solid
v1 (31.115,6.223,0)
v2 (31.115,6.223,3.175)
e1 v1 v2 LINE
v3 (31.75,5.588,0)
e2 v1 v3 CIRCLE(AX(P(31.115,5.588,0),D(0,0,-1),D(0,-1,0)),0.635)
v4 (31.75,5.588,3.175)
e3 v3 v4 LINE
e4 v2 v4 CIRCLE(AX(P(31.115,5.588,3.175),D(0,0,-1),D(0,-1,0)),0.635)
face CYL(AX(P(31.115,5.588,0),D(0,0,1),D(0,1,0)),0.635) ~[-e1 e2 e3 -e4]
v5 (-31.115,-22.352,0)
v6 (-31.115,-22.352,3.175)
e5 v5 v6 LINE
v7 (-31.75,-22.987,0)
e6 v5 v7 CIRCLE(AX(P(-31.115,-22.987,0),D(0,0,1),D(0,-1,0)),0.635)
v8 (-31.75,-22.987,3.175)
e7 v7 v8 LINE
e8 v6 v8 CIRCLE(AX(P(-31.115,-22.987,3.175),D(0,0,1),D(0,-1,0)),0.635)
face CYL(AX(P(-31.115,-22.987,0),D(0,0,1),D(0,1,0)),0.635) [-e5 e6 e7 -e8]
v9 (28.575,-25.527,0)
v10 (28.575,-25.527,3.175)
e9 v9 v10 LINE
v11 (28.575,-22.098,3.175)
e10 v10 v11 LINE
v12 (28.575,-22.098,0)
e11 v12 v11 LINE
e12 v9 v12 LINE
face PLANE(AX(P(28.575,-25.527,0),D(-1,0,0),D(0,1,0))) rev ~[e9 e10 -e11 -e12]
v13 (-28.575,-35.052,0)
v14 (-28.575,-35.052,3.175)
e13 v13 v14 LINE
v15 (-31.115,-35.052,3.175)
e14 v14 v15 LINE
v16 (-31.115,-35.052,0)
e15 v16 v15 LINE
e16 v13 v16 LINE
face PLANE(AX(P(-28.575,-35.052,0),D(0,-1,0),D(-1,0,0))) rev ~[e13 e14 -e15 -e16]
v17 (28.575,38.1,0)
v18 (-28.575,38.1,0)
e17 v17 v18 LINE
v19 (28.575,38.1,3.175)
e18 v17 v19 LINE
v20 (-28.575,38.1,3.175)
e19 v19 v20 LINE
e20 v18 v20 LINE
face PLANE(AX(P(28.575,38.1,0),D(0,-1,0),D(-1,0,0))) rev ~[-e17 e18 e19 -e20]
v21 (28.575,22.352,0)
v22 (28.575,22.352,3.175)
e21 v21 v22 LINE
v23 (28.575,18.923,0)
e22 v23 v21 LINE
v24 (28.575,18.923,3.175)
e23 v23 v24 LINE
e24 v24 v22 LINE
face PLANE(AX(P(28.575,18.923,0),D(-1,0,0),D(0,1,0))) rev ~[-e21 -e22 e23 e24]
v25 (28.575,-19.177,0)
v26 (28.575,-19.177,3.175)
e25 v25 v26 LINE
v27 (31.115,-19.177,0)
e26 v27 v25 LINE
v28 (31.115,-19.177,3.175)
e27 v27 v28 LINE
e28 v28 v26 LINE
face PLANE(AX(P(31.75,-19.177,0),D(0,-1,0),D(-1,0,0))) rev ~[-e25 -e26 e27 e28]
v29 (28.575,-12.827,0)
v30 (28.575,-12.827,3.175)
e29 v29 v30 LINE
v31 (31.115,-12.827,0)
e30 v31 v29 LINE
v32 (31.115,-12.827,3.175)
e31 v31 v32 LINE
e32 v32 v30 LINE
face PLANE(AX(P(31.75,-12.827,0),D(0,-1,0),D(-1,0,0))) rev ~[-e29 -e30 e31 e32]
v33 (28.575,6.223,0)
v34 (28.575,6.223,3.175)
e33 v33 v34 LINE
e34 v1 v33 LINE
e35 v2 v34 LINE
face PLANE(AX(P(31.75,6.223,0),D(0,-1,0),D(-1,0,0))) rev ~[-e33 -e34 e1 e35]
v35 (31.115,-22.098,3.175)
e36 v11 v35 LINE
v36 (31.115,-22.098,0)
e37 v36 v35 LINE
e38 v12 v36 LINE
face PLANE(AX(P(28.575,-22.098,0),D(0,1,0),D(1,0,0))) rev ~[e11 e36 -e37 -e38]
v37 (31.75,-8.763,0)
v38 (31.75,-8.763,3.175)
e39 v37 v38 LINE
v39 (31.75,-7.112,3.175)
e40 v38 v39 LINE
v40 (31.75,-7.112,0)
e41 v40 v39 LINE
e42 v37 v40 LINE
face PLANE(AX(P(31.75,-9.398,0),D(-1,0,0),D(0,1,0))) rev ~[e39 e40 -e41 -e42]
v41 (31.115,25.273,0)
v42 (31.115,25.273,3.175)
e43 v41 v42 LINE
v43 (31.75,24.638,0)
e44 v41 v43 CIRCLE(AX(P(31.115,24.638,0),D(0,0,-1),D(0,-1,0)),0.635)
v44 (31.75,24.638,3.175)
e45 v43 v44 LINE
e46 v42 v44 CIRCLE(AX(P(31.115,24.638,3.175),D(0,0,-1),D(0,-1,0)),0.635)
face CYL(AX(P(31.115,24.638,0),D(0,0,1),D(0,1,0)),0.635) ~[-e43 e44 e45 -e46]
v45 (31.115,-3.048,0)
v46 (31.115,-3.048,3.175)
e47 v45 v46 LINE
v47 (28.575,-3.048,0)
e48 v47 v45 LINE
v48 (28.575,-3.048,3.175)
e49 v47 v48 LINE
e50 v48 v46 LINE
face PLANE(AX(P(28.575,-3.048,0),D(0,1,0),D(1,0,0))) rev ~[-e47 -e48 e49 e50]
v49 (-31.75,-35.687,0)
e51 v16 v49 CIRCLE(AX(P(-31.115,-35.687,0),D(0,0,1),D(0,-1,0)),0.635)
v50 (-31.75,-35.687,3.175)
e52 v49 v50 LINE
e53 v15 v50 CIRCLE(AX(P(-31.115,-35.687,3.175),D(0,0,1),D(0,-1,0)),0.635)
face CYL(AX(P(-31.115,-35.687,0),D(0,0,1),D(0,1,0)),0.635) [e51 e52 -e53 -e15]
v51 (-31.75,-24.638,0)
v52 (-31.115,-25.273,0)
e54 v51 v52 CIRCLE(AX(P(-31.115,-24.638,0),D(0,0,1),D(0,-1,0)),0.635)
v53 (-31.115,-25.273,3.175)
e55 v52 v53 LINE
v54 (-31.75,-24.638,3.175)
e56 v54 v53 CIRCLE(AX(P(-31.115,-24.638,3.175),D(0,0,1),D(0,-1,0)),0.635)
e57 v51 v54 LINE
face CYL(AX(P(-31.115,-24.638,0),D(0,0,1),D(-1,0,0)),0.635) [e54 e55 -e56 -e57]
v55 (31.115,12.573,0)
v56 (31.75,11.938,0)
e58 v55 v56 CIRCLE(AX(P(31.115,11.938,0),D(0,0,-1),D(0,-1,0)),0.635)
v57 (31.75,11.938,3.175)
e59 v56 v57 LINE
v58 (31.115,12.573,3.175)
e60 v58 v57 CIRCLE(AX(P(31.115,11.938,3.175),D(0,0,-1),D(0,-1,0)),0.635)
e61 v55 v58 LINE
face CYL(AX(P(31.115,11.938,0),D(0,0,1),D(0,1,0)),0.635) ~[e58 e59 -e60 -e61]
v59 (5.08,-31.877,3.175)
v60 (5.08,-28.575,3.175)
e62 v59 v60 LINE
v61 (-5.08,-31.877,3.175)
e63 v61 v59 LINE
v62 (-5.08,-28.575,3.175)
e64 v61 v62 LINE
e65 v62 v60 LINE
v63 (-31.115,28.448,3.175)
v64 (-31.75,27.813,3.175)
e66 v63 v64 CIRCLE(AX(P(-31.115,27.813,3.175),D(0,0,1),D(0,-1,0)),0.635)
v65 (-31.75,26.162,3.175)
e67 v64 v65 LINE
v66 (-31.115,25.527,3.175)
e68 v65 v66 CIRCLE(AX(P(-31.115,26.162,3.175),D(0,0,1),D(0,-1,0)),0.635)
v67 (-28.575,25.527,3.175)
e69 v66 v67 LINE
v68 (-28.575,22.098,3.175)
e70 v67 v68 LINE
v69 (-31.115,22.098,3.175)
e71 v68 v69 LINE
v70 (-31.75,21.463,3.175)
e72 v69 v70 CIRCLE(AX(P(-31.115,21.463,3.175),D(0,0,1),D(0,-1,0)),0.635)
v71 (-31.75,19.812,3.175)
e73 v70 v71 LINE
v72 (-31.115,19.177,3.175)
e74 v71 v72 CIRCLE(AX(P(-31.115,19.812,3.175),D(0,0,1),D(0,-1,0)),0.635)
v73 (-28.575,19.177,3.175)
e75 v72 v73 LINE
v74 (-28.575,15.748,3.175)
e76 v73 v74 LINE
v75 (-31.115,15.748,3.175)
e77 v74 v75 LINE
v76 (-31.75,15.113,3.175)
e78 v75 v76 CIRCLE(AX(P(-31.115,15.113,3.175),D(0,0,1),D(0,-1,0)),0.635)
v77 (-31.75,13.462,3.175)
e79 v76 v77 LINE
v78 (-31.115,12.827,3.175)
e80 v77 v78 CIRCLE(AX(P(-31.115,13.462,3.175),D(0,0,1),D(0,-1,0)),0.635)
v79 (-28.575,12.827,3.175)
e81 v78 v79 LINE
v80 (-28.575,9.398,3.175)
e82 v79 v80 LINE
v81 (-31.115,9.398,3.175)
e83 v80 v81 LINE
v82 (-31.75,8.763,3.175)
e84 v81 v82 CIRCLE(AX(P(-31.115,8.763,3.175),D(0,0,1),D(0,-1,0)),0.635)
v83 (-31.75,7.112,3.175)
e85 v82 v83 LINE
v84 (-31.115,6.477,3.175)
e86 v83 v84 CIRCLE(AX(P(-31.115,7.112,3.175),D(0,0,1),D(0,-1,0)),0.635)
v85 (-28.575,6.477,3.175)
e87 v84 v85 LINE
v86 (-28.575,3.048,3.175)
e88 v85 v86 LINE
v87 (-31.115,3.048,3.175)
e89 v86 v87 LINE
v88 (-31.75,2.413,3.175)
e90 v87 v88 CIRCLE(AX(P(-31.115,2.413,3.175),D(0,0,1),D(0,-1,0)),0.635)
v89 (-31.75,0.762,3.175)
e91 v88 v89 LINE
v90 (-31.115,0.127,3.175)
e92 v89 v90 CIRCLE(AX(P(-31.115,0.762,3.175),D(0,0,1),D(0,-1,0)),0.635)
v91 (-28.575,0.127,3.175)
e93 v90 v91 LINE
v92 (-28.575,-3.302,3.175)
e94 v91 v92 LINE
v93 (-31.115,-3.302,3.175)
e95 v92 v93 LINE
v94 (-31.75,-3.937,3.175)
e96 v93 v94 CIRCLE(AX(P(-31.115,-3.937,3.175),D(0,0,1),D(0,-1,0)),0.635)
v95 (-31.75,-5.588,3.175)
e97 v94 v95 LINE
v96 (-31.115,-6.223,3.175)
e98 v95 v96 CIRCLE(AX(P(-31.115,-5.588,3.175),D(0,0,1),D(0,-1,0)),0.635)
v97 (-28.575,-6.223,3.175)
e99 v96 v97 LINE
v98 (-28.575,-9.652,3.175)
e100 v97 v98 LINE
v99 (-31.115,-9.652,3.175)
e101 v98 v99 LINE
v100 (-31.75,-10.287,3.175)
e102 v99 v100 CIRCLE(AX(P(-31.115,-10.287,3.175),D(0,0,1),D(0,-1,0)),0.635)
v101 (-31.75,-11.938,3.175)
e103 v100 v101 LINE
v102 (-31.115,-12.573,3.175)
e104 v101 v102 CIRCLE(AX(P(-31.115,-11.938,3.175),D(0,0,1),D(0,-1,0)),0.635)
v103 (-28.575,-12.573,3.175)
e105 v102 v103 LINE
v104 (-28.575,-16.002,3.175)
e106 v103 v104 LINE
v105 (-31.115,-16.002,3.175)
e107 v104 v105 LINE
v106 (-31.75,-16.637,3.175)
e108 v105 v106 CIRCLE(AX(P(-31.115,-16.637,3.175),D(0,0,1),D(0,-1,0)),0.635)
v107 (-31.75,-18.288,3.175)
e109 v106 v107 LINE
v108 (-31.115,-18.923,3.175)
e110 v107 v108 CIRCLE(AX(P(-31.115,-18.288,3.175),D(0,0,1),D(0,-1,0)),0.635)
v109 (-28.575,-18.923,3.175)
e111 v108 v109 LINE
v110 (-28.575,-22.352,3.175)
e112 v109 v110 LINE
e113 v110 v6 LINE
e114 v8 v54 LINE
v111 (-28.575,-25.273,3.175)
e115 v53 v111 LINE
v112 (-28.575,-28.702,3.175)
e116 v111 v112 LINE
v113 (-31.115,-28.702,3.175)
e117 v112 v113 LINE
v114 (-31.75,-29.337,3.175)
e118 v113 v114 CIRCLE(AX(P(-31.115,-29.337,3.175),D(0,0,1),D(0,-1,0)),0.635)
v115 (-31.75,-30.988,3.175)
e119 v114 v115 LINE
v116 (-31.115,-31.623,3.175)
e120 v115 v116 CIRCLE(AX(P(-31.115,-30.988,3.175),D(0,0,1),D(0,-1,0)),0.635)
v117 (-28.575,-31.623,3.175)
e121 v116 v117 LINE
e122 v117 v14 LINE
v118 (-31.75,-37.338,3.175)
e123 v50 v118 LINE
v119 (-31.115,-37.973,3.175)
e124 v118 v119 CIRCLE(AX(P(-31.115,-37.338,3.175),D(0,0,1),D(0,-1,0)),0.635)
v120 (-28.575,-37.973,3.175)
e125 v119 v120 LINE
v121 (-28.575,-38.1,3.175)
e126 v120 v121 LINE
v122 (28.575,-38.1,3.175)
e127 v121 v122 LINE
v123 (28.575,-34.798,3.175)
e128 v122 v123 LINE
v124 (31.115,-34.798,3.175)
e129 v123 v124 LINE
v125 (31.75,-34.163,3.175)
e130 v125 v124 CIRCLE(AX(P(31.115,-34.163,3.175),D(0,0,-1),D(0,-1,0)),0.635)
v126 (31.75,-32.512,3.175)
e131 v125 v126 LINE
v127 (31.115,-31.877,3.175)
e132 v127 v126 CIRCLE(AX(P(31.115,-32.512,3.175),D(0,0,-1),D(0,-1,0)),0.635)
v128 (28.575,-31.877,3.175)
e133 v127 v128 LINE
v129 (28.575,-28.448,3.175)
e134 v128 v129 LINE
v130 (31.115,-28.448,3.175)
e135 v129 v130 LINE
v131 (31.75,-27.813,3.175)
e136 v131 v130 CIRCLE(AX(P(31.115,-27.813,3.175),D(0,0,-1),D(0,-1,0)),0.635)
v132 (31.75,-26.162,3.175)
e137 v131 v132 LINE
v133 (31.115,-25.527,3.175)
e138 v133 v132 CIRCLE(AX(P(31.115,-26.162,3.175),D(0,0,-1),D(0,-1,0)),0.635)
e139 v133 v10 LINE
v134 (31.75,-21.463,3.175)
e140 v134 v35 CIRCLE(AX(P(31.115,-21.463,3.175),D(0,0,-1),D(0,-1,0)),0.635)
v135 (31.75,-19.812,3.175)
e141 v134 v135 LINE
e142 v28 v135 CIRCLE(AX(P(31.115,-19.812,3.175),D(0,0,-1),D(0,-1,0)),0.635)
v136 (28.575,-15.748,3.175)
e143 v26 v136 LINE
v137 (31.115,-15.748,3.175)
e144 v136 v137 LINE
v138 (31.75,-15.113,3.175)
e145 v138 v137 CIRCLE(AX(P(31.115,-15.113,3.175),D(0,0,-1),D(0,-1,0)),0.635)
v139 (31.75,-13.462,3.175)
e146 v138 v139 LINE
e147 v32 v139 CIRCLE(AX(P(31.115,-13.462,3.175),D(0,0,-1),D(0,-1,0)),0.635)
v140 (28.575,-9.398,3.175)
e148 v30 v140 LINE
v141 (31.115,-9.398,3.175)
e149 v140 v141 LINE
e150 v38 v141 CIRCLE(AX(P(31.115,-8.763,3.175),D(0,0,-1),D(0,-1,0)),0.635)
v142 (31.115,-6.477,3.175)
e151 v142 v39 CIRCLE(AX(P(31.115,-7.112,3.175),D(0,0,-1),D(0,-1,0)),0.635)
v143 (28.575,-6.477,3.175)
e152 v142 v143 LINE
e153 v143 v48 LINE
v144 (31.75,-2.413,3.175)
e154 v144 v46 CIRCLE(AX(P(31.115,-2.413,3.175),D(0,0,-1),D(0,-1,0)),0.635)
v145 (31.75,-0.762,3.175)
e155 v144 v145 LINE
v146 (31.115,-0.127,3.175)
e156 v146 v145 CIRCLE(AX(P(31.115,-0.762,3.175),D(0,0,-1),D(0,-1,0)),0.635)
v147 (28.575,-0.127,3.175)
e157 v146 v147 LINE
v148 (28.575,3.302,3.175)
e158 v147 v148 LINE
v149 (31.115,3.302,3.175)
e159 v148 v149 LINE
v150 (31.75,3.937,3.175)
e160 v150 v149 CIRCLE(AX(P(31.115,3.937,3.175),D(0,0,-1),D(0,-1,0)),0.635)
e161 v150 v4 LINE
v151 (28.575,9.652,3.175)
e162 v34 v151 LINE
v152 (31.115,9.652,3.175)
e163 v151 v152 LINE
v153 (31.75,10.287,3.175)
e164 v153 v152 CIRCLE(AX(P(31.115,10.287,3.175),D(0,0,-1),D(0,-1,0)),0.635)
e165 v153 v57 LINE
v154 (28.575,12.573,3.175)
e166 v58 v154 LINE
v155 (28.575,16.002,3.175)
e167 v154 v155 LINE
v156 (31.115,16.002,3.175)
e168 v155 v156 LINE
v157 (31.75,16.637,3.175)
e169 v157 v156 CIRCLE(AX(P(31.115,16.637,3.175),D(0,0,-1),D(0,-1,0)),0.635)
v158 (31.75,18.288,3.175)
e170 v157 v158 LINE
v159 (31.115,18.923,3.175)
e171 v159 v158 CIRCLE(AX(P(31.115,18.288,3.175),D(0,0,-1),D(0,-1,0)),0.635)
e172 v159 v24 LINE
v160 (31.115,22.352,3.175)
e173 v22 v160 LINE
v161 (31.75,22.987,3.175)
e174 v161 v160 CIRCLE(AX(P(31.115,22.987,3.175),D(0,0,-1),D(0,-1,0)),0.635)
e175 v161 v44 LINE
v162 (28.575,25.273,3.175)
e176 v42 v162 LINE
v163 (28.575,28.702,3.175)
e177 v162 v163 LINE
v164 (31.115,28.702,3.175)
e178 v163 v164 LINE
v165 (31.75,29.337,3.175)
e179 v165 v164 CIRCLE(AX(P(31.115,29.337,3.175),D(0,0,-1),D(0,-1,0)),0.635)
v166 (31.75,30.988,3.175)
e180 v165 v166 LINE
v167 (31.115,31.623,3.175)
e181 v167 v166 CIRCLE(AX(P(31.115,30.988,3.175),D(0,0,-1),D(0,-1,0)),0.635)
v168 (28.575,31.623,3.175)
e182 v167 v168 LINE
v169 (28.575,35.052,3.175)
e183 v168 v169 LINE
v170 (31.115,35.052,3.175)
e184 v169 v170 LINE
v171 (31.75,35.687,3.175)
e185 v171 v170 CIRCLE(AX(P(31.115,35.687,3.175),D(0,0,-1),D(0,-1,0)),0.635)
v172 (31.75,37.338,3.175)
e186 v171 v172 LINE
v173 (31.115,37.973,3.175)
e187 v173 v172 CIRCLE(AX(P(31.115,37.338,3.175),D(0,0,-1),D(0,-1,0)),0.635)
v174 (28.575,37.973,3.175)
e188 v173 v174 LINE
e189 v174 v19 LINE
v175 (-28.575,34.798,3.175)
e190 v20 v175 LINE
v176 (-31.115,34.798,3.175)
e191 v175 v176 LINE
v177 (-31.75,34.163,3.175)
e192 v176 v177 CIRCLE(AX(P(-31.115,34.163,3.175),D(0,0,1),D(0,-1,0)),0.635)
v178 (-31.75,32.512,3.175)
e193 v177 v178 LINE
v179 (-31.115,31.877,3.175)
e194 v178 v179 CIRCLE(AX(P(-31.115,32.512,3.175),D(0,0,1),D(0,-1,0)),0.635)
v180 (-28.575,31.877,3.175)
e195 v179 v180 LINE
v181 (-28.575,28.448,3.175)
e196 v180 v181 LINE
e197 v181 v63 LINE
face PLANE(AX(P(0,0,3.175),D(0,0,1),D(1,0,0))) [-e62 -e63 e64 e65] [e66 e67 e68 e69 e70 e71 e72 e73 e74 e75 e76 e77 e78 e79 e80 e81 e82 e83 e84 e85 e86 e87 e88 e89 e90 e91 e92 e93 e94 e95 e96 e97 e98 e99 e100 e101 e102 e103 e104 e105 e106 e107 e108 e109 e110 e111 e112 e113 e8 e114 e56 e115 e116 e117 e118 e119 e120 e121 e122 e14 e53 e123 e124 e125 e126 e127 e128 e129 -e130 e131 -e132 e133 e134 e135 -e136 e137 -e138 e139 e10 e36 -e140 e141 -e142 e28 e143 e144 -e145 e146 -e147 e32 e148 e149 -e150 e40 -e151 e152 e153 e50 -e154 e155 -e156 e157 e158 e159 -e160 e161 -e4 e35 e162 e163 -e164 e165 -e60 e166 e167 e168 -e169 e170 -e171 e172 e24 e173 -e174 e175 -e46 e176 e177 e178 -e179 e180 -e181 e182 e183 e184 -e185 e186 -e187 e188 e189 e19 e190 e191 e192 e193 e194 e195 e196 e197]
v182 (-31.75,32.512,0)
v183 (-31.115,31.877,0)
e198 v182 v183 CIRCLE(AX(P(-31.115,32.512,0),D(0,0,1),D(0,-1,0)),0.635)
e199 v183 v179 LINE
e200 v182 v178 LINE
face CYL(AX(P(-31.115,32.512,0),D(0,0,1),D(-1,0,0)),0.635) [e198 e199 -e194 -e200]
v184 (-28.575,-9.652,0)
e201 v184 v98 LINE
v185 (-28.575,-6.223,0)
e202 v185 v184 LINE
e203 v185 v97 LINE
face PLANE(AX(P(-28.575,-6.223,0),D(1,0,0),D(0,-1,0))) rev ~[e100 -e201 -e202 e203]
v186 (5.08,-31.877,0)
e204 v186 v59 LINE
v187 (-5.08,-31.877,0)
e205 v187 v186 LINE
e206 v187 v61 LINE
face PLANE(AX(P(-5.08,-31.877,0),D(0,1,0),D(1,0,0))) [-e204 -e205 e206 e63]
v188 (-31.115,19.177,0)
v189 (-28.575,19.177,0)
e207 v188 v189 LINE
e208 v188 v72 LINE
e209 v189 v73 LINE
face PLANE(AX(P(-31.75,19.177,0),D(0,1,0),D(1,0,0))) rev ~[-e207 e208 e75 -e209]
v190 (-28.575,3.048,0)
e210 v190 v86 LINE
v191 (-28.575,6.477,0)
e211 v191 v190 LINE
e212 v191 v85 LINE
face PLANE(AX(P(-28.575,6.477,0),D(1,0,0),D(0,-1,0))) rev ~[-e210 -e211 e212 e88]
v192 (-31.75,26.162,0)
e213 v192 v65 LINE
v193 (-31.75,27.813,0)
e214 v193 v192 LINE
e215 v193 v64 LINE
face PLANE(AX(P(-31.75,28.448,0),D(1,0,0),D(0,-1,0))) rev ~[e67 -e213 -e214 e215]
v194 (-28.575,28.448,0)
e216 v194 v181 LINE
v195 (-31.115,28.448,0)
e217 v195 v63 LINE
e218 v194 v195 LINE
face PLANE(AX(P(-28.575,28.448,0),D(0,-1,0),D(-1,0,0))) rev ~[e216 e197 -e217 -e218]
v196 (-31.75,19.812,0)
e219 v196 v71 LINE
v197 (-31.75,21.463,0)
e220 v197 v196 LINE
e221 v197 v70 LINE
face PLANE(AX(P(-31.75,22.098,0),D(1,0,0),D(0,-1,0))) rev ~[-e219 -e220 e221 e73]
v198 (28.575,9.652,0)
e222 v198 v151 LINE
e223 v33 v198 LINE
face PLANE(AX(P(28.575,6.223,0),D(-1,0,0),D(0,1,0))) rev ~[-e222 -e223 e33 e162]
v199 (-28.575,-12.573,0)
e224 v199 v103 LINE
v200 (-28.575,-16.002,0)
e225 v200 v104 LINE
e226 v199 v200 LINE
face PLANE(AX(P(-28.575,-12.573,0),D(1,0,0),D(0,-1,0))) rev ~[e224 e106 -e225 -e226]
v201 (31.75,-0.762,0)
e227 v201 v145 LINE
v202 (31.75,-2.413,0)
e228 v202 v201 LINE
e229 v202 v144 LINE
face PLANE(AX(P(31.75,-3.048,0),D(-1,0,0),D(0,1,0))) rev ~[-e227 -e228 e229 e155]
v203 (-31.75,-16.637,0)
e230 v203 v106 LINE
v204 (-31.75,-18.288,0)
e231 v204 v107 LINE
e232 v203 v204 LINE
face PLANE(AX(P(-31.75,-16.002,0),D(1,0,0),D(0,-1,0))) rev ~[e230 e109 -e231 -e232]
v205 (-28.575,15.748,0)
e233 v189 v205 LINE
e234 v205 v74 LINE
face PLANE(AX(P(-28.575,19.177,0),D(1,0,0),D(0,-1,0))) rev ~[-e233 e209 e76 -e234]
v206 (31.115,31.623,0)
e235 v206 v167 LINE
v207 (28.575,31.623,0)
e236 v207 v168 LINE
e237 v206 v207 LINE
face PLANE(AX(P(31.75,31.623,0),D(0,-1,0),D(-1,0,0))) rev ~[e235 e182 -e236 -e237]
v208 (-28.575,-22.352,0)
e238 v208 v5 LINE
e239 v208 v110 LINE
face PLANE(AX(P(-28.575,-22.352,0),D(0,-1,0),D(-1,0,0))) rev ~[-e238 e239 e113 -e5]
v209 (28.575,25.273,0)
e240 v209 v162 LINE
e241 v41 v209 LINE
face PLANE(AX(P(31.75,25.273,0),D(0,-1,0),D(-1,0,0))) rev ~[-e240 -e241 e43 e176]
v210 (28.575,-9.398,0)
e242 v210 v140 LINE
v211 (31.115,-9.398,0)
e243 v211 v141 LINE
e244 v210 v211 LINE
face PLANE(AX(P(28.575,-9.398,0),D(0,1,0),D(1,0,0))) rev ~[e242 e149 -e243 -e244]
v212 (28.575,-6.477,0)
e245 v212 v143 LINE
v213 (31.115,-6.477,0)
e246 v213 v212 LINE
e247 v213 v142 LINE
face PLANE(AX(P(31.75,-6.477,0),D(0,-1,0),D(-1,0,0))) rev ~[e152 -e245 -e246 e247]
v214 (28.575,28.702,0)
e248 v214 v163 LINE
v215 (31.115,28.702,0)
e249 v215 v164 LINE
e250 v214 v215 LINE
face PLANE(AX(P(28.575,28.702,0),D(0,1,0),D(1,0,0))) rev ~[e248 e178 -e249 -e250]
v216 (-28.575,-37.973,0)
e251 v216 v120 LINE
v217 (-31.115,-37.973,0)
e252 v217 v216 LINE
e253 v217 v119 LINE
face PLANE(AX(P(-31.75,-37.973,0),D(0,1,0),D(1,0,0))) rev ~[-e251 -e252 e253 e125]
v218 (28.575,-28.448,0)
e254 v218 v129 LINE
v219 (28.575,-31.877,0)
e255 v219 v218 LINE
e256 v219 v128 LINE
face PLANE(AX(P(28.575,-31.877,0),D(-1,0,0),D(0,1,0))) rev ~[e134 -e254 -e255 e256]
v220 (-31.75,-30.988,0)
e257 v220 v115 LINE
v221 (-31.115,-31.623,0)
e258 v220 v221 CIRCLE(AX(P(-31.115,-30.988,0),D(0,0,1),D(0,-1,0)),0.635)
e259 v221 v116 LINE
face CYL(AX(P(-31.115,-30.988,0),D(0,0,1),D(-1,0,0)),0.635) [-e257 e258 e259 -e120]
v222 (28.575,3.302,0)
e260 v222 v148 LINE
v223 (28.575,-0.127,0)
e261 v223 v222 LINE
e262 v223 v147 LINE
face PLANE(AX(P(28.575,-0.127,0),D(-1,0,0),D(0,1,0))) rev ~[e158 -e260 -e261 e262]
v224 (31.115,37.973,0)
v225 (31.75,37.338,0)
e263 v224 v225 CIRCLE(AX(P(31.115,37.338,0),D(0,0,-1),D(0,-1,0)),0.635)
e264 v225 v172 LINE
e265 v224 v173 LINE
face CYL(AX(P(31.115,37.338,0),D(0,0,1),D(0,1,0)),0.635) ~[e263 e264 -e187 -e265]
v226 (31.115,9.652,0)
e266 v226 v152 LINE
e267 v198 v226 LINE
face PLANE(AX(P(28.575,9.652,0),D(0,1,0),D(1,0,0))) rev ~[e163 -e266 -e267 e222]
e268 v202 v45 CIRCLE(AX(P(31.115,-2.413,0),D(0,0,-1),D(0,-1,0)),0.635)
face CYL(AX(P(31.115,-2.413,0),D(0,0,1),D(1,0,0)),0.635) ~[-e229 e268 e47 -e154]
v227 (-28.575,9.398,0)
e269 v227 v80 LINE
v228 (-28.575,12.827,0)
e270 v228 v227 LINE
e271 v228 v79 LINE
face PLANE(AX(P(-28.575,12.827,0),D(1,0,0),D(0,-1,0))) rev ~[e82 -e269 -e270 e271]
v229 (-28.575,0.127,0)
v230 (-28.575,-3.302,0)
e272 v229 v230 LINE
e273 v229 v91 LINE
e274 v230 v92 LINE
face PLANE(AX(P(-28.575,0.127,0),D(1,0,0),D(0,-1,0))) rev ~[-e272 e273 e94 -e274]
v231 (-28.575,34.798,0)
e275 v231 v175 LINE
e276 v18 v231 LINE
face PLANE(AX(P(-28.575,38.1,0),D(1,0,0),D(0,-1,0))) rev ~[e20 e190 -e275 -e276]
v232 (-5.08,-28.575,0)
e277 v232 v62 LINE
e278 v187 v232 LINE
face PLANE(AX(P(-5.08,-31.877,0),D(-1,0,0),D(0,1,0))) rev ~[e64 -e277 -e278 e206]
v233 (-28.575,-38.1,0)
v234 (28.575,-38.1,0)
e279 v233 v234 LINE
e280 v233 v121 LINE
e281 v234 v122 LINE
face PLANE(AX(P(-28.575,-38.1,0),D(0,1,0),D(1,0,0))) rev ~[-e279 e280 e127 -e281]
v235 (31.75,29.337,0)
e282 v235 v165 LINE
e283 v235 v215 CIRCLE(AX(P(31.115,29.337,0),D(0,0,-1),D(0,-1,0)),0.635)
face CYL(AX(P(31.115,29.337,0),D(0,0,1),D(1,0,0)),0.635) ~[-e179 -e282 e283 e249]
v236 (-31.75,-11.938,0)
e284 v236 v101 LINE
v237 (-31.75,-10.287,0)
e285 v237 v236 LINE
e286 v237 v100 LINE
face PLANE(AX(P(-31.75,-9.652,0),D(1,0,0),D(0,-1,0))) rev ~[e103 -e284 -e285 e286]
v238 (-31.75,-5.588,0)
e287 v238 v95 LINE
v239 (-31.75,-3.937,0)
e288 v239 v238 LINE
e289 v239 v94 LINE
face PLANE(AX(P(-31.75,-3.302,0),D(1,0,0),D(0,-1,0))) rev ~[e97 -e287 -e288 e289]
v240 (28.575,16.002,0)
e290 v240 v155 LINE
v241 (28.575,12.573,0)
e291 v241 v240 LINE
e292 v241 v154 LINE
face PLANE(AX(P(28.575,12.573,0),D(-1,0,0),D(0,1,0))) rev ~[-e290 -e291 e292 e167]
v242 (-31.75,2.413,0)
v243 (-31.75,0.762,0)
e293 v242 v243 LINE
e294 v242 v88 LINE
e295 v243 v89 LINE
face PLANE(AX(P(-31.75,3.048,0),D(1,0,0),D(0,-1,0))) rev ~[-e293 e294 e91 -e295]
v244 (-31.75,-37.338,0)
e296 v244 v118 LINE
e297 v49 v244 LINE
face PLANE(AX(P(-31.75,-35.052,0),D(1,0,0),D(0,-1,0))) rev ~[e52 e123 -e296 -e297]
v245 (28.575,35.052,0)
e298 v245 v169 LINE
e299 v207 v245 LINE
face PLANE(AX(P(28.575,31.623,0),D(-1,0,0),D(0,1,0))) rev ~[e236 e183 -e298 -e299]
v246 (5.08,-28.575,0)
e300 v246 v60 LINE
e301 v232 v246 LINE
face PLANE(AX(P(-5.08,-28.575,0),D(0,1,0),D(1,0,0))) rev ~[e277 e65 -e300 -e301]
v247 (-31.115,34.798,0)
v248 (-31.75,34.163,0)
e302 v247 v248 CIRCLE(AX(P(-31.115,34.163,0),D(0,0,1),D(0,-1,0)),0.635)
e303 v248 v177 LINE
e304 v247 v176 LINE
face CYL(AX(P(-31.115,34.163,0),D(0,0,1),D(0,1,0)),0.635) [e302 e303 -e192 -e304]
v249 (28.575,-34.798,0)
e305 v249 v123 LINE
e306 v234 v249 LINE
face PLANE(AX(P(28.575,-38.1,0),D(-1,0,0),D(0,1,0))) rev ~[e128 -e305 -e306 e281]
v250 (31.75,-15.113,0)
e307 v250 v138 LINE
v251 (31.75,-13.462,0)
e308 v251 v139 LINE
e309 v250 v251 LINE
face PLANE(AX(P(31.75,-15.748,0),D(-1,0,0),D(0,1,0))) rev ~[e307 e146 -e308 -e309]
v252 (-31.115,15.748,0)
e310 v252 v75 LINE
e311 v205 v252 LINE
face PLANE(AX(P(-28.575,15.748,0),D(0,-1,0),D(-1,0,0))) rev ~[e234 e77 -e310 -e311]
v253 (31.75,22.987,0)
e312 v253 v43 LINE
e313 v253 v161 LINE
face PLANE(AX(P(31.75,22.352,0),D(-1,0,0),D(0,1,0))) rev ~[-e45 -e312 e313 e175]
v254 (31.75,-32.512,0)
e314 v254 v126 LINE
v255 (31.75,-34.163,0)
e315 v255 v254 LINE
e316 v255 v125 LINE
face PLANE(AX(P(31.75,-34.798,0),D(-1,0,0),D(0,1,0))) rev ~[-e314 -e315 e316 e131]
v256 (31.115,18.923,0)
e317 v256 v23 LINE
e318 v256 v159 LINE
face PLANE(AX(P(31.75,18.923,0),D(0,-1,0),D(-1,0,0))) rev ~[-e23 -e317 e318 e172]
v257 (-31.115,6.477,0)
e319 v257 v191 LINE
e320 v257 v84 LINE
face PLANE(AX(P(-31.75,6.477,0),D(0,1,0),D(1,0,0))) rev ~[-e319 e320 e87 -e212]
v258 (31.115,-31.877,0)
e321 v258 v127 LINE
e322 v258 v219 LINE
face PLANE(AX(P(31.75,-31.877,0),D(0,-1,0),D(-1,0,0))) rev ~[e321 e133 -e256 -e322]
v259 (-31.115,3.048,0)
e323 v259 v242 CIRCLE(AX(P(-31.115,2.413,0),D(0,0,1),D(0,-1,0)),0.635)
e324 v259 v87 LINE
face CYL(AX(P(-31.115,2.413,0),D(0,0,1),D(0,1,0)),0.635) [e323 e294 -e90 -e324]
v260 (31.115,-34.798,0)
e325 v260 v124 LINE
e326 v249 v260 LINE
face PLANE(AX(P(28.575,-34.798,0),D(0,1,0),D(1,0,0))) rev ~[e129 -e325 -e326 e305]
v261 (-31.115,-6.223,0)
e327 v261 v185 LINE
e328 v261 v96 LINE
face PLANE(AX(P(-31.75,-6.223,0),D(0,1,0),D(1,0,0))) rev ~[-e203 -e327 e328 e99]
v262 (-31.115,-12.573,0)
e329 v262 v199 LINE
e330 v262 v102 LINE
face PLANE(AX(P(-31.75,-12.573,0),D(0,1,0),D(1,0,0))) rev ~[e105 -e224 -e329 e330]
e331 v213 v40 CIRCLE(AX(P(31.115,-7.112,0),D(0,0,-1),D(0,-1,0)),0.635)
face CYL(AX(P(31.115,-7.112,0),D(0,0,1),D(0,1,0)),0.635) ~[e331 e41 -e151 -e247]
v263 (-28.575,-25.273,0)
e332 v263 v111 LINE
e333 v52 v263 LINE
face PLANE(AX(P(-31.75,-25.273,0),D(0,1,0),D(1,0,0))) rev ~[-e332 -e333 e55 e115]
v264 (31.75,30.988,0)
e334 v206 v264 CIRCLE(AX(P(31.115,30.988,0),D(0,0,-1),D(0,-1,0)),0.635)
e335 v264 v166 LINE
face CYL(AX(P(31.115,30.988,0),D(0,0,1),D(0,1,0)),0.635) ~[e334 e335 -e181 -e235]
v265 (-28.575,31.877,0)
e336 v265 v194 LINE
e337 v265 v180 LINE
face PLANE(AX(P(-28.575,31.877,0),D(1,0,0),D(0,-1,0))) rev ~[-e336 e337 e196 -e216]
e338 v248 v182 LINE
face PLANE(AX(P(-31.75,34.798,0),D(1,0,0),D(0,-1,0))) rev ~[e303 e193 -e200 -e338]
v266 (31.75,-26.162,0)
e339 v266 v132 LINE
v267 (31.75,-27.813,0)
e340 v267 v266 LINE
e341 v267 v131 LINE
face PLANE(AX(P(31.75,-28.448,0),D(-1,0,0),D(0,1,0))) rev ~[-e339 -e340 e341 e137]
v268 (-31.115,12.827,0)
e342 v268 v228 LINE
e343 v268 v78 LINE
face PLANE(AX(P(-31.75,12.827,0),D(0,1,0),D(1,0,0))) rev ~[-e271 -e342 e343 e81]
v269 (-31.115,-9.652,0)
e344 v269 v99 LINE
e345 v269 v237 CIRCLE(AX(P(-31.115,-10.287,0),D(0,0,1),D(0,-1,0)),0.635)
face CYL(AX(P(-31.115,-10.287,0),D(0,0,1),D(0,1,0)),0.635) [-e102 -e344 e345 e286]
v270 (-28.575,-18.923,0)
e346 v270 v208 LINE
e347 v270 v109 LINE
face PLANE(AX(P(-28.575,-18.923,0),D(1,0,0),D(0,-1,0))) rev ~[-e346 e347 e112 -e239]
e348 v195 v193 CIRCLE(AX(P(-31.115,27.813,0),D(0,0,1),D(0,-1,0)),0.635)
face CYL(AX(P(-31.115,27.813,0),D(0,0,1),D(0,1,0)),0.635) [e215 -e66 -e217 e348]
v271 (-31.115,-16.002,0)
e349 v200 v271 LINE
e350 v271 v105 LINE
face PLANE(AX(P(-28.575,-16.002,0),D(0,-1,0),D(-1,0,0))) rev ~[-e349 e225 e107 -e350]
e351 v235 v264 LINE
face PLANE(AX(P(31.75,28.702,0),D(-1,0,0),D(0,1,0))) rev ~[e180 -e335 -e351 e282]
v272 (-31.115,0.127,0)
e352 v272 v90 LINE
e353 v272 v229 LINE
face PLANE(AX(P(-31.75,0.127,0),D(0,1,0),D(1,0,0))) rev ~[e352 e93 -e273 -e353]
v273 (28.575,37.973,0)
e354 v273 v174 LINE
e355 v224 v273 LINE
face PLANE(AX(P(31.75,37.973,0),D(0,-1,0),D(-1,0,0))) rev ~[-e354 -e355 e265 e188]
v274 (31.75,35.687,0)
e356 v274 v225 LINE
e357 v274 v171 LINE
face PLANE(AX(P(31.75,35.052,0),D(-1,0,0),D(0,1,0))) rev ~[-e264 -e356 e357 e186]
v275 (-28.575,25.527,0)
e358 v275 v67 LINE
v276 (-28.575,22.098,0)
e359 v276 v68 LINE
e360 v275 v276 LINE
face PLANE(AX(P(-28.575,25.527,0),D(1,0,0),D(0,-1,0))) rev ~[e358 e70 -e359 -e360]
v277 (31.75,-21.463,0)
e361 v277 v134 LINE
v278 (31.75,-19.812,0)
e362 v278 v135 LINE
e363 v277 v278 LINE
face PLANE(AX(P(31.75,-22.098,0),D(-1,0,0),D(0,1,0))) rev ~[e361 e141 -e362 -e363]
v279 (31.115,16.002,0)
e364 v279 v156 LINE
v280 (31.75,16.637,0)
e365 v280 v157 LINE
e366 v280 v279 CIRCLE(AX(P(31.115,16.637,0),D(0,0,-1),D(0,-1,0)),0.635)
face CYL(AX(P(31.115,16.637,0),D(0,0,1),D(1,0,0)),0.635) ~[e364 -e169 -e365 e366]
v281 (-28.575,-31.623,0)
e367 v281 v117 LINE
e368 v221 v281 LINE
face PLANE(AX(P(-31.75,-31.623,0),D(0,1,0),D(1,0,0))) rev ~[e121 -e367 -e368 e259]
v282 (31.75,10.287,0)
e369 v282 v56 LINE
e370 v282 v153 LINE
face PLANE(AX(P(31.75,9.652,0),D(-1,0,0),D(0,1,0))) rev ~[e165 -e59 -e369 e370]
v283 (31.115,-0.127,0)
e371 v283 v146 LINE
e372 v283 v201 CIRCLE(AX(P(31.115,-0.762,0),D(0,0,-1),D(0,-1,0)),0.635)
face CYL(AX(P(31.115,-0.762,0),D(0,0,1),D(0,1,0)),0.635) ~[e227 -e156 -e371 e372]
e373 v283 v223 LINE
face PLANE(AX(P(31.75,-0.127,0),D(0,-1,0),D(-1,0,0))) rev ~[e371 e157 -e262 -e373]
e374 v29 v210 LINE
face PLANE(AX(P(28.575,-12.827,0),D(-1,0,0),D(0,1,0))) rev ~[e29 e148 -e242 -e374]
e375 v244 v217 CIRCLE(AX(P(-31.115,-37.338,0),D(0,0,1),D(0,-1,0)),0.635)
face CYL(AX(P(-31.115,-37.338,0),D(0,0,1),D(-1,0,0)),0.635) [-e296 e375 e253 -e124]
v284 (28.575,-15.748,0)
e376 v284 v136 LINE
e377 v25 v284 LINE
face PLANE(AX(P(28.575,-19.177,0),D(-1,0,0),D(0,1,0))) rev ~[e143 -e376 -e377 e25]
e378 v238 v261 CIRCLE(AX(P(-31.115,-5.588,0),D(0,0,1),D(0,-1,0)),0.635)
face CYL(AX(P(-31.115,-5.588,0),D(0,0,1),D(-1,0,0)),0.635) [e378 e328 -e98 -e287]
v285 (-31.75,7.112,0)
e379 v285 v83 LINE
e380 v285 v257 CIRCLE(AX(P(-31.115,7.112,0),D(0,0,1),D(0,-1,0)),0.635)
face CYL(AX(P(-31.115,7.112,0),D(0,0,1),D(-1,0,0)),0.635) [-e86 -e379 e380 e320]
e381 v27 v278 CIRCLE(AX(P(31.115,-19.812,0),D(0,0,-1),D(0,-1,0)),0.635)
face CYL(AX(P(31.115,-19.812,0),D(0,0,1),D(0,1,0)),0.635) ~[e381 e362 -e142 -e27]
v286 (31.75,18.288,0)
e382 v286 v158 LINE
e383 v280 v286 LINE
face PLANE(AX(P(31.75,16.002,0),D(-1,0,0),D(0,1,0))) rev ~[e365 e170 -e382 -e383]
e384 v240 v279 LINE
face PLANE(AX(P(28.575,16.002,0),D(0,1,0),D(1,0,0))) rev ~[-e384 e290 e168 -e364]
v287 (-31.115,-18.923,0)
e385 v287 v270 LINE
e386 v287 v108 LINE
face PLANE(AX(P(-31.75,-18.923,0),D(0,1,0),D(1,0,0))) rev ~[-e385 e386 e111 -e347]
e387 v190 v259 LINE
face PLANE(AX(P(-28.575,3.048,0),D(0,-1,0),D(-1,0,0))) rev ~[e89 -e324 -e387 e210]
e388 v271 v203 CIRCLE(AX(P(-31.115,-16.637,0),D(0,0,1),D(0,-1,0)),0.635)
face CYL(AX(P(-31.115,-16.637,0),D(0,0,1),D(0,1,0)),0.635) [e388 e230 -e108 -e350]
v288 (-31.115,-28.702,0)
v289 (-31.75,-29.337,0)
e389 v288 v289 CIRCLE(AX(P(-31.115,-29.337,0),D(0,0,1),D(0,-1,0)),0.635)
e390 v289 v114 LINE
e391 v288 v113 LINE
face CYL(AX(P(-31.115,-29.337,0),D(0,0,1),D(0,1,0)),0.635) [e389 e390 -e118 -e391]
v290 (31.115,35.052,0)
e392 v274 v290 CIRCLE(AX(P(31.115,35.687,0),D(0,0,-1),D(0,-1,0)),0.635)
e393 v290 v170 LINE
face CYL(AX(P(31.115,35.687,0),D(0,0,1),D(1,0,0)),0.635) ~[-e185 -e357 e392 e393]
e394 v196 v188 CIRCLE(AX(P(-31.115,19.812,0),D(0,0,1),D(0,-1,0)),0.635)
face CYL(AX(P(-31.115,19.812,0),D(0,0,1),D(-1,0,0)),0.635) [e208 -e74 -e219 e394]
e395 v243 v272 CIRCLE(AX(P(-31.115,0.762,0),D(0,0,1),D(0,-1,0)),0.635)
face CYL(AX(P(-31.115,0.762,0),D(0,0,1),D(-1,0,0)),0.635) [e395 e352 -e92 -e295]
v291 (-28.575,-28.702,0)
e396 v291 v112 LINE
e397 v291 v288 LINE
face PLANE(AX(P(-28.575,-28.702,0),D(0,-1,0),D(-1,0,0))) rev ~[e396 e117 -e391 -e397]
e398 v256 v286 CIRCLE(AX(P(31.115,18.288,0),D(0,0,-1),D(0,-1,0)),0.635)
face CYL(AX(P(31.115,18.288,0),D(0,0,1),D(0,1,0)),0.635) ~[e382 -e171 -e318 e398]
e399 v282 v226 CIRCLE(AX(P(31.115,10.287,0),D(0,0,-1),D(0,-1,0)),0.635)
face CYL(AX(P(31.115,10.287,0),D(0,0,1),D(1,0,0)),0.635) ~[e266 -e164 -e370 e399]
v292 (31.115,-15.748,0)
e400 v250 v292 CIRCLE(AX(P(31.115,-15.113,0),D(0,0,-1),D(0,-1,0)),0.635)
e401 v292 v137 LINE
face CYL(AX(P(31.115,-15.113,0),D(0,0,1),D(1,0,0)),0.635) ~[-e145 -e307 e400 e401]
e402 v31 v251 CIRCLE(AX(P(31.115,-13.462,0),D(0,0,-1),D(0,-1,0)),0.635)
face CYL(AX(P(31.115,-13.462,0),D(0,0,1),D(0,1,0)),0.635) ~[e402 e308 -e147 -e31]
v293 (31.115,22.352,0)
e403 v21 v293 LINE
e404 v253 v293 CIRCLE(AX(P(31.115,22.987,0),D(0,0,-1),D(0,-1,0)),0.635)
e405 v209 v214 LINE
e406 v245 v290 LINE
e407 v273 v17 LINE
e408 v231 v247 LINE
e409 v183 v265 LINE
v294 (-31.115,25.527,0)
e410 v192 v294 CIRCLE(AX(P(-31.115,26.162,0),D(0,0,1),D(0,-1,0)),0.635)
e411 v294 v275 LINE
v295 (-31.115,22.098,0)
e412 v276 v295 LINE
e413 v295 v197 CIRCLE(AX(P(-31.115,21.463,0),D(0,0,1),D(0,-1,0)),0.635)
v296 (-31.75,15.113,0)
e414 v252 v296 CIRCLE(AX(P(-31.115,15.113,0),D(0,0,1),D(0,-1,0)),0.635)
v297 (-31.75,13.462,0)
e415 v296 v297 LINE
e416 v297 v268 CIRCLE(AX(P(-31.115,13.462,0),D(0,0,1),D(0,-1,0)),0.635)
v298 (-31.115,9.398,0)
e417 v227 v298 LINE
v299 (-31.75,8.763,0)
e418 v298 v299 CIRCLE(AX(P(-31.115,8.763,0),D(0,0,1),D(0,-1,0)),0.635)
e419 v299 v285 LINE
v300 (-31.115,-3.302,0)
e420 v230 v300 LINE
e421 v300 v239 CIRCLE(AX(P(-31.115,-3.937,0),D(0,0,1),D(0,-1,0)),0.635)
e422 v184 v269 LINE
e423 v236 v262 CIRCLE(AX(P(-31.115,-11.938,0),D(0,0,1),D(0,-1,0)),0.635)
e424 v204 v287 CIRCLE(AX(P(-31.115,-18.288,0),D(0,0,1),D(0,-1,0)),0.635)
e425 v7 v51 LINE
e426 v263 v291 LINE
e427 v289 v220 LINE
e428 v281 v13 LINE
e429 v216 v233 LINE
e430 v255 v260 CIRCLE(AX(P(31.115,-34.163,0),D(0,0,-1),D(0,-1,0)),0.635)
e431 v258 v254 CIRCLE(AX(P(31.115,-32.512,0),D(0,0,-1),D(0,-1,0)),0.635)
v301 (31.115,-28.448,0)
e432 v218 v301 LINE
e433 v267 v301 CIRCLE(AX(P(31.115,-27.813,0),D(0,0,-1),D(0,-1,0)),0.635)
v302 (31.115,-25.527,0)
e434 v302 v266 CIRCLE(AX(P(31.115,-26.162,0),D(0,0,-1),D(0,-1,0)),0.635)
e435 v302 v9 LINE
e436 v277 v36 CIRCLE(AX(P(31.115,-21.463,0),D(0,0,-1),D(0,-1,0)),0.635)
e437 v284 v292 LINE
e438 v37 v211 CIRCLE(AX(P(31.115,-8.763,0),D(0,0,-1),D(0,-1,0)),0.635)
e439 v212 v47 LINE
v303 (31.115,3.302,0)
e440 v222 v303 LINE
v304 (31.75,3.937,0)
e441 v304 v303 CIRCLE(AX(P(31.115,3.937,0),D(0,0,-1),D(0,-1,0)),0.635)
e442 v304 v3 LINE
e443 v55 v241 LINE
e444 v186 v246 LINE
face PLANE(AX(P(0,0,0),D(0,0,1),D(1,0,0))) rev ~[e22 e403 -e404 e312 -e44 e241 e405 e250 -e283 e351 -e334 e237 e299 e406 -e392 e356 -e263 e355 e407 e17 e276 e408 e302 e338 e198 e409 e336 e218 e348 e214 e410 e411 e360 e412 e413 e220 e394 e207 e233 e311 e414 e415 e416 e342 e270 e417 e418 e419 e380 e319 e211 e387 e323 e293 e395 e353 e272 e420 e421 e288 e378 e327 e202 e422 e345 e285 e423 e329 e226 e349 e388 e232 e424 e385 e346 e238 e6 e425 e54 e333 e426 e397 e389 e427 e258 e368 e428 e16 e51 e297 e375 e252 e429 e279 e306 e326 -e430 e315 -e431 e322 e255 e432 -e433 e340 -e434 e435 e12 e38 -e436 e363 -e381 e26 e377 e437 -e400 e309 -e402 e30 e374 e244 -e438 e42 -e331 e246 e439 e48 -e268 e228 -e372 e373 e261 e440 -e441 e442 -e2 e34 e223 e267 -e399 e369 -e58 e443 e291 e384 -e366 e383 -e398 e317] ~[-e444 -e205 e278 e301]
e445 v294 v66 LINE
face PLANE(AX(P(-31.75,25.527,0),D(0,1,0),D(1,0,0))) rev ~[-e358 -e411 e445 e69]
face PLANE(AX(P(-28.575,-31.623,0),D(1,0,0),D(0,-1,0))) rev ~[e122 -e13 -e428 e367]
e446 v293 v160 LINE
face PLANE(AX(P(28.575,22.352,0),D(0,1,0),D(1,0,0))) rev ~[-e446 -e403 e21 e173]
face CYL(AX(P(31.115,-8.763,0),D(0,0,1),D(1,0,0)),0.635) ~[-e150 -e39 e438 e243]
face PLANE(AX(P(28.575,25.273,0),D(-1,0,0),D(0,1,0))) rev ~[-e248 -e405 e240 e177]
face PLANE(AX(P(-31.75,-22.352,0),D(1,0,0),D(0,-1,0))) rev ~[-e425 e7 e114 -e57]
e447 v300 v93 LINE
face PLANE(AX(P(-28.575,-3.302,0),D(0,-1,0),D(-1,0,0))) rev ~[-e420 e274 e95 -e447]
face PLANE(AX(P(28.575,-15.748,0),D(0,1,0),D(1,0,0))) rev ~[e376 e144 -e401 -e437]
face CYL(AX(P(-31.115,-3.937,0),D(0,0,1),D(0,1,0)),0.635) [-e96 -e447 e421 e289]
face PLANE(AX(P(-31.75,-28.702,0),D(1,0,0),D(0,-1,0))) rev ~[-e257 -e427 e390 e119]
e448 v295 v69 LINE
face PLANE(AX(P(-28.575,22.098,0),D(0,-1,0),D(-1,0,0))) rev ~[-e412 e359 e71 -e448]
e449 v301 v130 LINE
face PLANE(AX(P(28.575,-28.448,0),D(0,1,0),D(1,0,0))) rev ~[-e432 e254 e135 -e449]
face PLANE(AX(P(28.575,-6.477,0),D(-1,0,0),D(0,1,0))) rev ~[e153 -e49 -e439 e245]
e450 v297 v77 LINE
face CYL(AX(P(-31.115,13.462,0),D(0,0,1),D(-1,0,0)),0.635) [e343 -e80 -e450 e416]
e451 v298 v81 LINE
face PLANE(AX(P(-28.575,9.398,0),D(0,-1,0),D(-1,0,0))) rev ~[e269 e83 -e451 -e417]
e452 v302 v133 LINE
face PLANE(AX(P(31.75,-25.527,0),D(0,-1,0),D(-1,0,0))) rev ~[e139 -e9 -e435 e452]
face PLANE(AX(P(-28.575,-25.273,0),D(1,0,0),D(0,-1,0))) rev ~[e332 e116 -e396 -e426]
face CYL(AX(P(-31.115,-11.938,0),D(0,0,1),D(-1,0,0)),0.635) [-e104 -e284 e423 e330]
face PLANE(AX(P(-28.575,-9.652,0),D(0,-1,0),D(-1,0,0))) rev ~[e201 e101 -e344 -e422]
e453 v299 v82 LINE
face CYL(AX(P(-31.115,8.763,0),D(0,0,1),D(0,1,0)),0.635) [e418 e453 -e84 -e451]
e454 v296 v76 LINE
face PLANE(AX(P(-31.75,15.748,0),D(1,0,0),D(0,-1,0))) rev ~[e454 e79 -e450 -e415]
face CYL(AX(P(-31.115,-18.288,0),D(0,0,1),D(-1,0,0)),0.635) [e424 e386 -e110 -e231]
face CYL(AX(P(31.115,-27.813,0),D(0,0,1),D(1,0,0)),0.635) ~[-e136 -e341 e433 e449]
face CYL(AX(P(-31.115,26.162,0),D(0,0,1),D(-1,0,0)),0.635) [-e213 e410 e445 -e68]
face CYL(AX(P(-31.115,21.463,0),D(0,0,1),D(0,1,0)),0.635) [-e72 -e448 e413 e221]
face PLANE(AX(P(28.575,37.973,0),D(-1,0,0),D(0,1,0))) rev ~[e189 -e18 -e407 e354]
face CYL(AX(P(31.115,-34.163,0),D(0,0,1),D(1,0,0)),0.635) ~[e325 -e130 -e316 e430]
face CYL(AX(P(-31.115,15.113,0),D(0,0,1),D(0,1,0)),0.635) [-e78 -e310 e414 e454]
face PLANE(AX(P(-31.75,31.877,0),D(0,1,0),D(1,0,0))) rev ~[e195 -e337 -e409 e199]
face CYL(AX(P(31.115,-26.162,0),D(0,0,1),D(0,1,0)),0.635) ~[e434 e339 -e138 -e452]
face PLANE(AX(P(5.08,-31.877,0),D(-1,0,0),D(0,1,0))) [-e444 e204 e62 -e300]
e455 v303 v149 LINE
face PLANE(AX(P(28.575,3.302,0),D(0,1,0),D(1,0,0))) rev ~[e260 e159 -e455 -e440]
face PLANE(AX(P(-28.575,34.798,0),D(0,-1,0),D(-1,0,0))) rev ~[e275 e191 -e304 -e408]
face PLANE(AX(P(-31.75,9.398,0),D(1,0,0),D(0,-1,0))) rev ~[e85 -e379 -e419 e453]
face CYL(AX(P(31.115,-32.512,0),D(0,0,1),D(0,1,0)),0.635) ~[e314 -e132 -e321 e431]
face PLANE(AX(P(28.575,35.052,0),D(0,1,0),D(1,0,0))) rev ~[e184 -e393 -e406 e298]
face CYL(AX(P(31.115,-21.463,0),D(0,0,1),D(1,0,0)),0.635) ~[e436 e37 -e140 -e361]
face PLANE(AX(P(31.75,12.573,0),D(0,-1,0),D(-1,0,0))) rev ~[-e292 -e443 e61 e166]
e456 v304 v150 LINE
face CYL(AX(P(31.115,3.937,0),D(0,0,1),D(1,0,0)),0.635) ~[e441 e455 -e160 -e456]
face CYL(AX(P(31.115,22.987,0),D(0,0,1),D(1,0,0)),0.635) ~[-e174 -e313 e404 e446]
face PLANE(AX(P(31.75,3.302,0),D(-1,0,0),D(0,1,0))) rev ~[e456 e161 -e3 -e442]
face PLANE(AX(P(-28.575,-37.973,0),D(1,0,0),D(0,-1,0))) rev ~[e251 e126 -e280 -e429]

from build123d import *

# Parameters (mm, degrees)
SKETCH1_W           = 10.16
SKETCH1_H           = 3.302
BOSS_EXTRUDE1_DEPTH = 3.175
FILLET2_R           = 0.635


with BuildPart() as part:
    # Sketch1 → Boss-Extrude1 (new body)
    with BuildSketch(Plane.XY):
        Polygon((28.575, 38.1), (-28.575, 38.1), (-28.575, 34.798), (-31.75, 34.798), (-31.75, 31.877), (-28.575, 31.877), (-28.575, 28.448), (-31.75, 28.448), (-31.75, 25.527), (-28.575, 25.527), (-28.575, 22.098), (-31.75, 22.098), (-31.75, 19.177), (-28.575, 19.177), (-28.575, 15.748), (-31.75, 15.748), (-31.75, 12.827), (-28.575, 12.827), (-28.575, 9.398), (-31.75, 9.398), (-31.75, 6.477), (-28.575, 6.477), (-28.575, 3.048), (-31.75, 3.048), (-31.75, 0.127), (-28.575, 0.127), (-28.575, -3.302), (-31.75, -3.302), (-31.75, -6.223), (-28.575, -6.223), (-28.575, -9.652), (-31.75, -9.652), (-31.75, -12.573), (-28.575, -12.573), (-28.575, -16.002), (-31.75, -16.002), (-31.75, -18.923), (-28.575, -18.923), (-28.575, -22.352), (-31.75, -22.352), (-31.75, -25.273), (-28.575, -25.273), (-28.575, -28.702), (-31.75, -28.702), (-31.75, -31.623), (-28.575, -31.623), (-28.575, -35.052), (-31.75, -35.052), (-31.75, -37.973), (-28.575, -37.973), (-28.575, -38.1), (28.575, -38.1), (28.575, -34.798), (31.75, -34.798), (31.75, -31.877), (28.575, -31.877), (28.575, -28.448), (31.75, -28.448), (31.75, -25.527), (28.575, -25.527), (28.575, -22.098), (31.75, -22.098), (31.75, -19.177), (28.575, -19.177), (28.575, -15.748), (31.75, -15.748), (31.75, -12.827), (28.575, -12.827), (28.575, -9.398), (31.75, -9.398), (31.75, -6.477), (28.575, -6.477), (28.575, -3.048), (31.75, -3.048), (31.75, -0.127), (28.575, -0.127), (28.575, 3.302), (31.75, 3.302), (31.75, 6.223), (28.575, 6.223), (28.575, 9.652), (31.75, 9.652), (31.75, 12.573), (28.575, 12.573), (28.575, 16.002), (31.75, 16.002), (31.75, 18.923), (28.575, 18.923), (28.575, 22.352), (31.75, 22.352), (31.75, 25.273), (28.575, 25.273), (28.575, 28.702), (31.75, 28.702), (31.75, 31.623), (28.575, 31.623), (28.575, 35.052), (31.75, 35.052), (31.75, 37.973), (28.575, 37.973), align=None)
        with Locations((0, -30.226)):
            Rectangle(SKETCH1_W, SKETCH1_H, mode=Mode.SUBTRACT)
    extrude(amount=BOSS_EXTRUDE1_DEPTH)

    # Fillet2
    fillet2_edges = [part.edges().sort_by_distance(p)[0] for p in [
        (31.75, 37.973, 1.5875),
        (31.75, 35.052, 1.5875),
        (31.75, 31.623, 1.5875),
        (31.75, 28.702, 1.5875),
        (31.75, 25.273, 1.5875),
        (31.75, 22.352, 1.5875),
        (31.75, 18.923, 1.5875),
        (31.75, 16.002, 1.5875),
        (31.75, 12.573, 1.5875),
        (31.75, 9.652, 1.5875),
        (31.75, 6.223, 1.5875),
        (31.75, 3.302, 1.5875),
        (31.75, -0.127, 1.5875),
        (31.75, -3.048, 1.5875),
        (31.75, -6.477, 1.5875),
        (31.75, -9.398, 1.5875),
        (31.75, -12.827, 1.5875),
        (31.75, -15.748, 1.5875),
        (31.75, -19.177, 1.5875),
        (31.75, -22.098, 1.5875),
        (31.75, -25.527, 1.5875),
        (31.75, -28.448, 1.5875),
        (31.75, -31.877, 1.5875),
        (31.75, -34.798, 1.5875),
        (-31.75, -37.973, 1.5875),
        (-31.75, -35.052, 1.5875),
        (-31.75, -31.623, 1.5875),
        (-31.75, -28.702, 1.5875),
        (-31.75, -25.273, 1.5875),
        (-31.75, -22.352, 1.5875),
        (-31.75, -18.923, 1.5875),
        (-31.75, -16.002, 1.5875),
        (-31.75, -12.573, 1.5875),
        (-31.75, -9.652, 1.5875),
        (-31.75, -6.223, 1.5875),
        (-31.75, -3.302, 1.5875),
        (-31.75, 0.127, 1.5875),
        (-31.75, 3.048, 1.5875),
        (-31.75, 6.477, 1.5875),
        (-31.75, 9.398, 1.5875),
        (-31.75, 12.827, 1.5875),
        (-31.75, 15.748, 1.5875),
        (-31.75, 19.177, 1.5875),
        (-31.75, 22.098, 1.5875),
        (-31.75, 25.527, 1.5875),
        (-31.75, 28.448, 1.5875),
        (-31.75, 31.877, 1.5875),
        (-31.75, 34.798, 1.5875),
    ]]
    fillet(fillet2_edges, radius=FILLET2_R)


solid = part.part
